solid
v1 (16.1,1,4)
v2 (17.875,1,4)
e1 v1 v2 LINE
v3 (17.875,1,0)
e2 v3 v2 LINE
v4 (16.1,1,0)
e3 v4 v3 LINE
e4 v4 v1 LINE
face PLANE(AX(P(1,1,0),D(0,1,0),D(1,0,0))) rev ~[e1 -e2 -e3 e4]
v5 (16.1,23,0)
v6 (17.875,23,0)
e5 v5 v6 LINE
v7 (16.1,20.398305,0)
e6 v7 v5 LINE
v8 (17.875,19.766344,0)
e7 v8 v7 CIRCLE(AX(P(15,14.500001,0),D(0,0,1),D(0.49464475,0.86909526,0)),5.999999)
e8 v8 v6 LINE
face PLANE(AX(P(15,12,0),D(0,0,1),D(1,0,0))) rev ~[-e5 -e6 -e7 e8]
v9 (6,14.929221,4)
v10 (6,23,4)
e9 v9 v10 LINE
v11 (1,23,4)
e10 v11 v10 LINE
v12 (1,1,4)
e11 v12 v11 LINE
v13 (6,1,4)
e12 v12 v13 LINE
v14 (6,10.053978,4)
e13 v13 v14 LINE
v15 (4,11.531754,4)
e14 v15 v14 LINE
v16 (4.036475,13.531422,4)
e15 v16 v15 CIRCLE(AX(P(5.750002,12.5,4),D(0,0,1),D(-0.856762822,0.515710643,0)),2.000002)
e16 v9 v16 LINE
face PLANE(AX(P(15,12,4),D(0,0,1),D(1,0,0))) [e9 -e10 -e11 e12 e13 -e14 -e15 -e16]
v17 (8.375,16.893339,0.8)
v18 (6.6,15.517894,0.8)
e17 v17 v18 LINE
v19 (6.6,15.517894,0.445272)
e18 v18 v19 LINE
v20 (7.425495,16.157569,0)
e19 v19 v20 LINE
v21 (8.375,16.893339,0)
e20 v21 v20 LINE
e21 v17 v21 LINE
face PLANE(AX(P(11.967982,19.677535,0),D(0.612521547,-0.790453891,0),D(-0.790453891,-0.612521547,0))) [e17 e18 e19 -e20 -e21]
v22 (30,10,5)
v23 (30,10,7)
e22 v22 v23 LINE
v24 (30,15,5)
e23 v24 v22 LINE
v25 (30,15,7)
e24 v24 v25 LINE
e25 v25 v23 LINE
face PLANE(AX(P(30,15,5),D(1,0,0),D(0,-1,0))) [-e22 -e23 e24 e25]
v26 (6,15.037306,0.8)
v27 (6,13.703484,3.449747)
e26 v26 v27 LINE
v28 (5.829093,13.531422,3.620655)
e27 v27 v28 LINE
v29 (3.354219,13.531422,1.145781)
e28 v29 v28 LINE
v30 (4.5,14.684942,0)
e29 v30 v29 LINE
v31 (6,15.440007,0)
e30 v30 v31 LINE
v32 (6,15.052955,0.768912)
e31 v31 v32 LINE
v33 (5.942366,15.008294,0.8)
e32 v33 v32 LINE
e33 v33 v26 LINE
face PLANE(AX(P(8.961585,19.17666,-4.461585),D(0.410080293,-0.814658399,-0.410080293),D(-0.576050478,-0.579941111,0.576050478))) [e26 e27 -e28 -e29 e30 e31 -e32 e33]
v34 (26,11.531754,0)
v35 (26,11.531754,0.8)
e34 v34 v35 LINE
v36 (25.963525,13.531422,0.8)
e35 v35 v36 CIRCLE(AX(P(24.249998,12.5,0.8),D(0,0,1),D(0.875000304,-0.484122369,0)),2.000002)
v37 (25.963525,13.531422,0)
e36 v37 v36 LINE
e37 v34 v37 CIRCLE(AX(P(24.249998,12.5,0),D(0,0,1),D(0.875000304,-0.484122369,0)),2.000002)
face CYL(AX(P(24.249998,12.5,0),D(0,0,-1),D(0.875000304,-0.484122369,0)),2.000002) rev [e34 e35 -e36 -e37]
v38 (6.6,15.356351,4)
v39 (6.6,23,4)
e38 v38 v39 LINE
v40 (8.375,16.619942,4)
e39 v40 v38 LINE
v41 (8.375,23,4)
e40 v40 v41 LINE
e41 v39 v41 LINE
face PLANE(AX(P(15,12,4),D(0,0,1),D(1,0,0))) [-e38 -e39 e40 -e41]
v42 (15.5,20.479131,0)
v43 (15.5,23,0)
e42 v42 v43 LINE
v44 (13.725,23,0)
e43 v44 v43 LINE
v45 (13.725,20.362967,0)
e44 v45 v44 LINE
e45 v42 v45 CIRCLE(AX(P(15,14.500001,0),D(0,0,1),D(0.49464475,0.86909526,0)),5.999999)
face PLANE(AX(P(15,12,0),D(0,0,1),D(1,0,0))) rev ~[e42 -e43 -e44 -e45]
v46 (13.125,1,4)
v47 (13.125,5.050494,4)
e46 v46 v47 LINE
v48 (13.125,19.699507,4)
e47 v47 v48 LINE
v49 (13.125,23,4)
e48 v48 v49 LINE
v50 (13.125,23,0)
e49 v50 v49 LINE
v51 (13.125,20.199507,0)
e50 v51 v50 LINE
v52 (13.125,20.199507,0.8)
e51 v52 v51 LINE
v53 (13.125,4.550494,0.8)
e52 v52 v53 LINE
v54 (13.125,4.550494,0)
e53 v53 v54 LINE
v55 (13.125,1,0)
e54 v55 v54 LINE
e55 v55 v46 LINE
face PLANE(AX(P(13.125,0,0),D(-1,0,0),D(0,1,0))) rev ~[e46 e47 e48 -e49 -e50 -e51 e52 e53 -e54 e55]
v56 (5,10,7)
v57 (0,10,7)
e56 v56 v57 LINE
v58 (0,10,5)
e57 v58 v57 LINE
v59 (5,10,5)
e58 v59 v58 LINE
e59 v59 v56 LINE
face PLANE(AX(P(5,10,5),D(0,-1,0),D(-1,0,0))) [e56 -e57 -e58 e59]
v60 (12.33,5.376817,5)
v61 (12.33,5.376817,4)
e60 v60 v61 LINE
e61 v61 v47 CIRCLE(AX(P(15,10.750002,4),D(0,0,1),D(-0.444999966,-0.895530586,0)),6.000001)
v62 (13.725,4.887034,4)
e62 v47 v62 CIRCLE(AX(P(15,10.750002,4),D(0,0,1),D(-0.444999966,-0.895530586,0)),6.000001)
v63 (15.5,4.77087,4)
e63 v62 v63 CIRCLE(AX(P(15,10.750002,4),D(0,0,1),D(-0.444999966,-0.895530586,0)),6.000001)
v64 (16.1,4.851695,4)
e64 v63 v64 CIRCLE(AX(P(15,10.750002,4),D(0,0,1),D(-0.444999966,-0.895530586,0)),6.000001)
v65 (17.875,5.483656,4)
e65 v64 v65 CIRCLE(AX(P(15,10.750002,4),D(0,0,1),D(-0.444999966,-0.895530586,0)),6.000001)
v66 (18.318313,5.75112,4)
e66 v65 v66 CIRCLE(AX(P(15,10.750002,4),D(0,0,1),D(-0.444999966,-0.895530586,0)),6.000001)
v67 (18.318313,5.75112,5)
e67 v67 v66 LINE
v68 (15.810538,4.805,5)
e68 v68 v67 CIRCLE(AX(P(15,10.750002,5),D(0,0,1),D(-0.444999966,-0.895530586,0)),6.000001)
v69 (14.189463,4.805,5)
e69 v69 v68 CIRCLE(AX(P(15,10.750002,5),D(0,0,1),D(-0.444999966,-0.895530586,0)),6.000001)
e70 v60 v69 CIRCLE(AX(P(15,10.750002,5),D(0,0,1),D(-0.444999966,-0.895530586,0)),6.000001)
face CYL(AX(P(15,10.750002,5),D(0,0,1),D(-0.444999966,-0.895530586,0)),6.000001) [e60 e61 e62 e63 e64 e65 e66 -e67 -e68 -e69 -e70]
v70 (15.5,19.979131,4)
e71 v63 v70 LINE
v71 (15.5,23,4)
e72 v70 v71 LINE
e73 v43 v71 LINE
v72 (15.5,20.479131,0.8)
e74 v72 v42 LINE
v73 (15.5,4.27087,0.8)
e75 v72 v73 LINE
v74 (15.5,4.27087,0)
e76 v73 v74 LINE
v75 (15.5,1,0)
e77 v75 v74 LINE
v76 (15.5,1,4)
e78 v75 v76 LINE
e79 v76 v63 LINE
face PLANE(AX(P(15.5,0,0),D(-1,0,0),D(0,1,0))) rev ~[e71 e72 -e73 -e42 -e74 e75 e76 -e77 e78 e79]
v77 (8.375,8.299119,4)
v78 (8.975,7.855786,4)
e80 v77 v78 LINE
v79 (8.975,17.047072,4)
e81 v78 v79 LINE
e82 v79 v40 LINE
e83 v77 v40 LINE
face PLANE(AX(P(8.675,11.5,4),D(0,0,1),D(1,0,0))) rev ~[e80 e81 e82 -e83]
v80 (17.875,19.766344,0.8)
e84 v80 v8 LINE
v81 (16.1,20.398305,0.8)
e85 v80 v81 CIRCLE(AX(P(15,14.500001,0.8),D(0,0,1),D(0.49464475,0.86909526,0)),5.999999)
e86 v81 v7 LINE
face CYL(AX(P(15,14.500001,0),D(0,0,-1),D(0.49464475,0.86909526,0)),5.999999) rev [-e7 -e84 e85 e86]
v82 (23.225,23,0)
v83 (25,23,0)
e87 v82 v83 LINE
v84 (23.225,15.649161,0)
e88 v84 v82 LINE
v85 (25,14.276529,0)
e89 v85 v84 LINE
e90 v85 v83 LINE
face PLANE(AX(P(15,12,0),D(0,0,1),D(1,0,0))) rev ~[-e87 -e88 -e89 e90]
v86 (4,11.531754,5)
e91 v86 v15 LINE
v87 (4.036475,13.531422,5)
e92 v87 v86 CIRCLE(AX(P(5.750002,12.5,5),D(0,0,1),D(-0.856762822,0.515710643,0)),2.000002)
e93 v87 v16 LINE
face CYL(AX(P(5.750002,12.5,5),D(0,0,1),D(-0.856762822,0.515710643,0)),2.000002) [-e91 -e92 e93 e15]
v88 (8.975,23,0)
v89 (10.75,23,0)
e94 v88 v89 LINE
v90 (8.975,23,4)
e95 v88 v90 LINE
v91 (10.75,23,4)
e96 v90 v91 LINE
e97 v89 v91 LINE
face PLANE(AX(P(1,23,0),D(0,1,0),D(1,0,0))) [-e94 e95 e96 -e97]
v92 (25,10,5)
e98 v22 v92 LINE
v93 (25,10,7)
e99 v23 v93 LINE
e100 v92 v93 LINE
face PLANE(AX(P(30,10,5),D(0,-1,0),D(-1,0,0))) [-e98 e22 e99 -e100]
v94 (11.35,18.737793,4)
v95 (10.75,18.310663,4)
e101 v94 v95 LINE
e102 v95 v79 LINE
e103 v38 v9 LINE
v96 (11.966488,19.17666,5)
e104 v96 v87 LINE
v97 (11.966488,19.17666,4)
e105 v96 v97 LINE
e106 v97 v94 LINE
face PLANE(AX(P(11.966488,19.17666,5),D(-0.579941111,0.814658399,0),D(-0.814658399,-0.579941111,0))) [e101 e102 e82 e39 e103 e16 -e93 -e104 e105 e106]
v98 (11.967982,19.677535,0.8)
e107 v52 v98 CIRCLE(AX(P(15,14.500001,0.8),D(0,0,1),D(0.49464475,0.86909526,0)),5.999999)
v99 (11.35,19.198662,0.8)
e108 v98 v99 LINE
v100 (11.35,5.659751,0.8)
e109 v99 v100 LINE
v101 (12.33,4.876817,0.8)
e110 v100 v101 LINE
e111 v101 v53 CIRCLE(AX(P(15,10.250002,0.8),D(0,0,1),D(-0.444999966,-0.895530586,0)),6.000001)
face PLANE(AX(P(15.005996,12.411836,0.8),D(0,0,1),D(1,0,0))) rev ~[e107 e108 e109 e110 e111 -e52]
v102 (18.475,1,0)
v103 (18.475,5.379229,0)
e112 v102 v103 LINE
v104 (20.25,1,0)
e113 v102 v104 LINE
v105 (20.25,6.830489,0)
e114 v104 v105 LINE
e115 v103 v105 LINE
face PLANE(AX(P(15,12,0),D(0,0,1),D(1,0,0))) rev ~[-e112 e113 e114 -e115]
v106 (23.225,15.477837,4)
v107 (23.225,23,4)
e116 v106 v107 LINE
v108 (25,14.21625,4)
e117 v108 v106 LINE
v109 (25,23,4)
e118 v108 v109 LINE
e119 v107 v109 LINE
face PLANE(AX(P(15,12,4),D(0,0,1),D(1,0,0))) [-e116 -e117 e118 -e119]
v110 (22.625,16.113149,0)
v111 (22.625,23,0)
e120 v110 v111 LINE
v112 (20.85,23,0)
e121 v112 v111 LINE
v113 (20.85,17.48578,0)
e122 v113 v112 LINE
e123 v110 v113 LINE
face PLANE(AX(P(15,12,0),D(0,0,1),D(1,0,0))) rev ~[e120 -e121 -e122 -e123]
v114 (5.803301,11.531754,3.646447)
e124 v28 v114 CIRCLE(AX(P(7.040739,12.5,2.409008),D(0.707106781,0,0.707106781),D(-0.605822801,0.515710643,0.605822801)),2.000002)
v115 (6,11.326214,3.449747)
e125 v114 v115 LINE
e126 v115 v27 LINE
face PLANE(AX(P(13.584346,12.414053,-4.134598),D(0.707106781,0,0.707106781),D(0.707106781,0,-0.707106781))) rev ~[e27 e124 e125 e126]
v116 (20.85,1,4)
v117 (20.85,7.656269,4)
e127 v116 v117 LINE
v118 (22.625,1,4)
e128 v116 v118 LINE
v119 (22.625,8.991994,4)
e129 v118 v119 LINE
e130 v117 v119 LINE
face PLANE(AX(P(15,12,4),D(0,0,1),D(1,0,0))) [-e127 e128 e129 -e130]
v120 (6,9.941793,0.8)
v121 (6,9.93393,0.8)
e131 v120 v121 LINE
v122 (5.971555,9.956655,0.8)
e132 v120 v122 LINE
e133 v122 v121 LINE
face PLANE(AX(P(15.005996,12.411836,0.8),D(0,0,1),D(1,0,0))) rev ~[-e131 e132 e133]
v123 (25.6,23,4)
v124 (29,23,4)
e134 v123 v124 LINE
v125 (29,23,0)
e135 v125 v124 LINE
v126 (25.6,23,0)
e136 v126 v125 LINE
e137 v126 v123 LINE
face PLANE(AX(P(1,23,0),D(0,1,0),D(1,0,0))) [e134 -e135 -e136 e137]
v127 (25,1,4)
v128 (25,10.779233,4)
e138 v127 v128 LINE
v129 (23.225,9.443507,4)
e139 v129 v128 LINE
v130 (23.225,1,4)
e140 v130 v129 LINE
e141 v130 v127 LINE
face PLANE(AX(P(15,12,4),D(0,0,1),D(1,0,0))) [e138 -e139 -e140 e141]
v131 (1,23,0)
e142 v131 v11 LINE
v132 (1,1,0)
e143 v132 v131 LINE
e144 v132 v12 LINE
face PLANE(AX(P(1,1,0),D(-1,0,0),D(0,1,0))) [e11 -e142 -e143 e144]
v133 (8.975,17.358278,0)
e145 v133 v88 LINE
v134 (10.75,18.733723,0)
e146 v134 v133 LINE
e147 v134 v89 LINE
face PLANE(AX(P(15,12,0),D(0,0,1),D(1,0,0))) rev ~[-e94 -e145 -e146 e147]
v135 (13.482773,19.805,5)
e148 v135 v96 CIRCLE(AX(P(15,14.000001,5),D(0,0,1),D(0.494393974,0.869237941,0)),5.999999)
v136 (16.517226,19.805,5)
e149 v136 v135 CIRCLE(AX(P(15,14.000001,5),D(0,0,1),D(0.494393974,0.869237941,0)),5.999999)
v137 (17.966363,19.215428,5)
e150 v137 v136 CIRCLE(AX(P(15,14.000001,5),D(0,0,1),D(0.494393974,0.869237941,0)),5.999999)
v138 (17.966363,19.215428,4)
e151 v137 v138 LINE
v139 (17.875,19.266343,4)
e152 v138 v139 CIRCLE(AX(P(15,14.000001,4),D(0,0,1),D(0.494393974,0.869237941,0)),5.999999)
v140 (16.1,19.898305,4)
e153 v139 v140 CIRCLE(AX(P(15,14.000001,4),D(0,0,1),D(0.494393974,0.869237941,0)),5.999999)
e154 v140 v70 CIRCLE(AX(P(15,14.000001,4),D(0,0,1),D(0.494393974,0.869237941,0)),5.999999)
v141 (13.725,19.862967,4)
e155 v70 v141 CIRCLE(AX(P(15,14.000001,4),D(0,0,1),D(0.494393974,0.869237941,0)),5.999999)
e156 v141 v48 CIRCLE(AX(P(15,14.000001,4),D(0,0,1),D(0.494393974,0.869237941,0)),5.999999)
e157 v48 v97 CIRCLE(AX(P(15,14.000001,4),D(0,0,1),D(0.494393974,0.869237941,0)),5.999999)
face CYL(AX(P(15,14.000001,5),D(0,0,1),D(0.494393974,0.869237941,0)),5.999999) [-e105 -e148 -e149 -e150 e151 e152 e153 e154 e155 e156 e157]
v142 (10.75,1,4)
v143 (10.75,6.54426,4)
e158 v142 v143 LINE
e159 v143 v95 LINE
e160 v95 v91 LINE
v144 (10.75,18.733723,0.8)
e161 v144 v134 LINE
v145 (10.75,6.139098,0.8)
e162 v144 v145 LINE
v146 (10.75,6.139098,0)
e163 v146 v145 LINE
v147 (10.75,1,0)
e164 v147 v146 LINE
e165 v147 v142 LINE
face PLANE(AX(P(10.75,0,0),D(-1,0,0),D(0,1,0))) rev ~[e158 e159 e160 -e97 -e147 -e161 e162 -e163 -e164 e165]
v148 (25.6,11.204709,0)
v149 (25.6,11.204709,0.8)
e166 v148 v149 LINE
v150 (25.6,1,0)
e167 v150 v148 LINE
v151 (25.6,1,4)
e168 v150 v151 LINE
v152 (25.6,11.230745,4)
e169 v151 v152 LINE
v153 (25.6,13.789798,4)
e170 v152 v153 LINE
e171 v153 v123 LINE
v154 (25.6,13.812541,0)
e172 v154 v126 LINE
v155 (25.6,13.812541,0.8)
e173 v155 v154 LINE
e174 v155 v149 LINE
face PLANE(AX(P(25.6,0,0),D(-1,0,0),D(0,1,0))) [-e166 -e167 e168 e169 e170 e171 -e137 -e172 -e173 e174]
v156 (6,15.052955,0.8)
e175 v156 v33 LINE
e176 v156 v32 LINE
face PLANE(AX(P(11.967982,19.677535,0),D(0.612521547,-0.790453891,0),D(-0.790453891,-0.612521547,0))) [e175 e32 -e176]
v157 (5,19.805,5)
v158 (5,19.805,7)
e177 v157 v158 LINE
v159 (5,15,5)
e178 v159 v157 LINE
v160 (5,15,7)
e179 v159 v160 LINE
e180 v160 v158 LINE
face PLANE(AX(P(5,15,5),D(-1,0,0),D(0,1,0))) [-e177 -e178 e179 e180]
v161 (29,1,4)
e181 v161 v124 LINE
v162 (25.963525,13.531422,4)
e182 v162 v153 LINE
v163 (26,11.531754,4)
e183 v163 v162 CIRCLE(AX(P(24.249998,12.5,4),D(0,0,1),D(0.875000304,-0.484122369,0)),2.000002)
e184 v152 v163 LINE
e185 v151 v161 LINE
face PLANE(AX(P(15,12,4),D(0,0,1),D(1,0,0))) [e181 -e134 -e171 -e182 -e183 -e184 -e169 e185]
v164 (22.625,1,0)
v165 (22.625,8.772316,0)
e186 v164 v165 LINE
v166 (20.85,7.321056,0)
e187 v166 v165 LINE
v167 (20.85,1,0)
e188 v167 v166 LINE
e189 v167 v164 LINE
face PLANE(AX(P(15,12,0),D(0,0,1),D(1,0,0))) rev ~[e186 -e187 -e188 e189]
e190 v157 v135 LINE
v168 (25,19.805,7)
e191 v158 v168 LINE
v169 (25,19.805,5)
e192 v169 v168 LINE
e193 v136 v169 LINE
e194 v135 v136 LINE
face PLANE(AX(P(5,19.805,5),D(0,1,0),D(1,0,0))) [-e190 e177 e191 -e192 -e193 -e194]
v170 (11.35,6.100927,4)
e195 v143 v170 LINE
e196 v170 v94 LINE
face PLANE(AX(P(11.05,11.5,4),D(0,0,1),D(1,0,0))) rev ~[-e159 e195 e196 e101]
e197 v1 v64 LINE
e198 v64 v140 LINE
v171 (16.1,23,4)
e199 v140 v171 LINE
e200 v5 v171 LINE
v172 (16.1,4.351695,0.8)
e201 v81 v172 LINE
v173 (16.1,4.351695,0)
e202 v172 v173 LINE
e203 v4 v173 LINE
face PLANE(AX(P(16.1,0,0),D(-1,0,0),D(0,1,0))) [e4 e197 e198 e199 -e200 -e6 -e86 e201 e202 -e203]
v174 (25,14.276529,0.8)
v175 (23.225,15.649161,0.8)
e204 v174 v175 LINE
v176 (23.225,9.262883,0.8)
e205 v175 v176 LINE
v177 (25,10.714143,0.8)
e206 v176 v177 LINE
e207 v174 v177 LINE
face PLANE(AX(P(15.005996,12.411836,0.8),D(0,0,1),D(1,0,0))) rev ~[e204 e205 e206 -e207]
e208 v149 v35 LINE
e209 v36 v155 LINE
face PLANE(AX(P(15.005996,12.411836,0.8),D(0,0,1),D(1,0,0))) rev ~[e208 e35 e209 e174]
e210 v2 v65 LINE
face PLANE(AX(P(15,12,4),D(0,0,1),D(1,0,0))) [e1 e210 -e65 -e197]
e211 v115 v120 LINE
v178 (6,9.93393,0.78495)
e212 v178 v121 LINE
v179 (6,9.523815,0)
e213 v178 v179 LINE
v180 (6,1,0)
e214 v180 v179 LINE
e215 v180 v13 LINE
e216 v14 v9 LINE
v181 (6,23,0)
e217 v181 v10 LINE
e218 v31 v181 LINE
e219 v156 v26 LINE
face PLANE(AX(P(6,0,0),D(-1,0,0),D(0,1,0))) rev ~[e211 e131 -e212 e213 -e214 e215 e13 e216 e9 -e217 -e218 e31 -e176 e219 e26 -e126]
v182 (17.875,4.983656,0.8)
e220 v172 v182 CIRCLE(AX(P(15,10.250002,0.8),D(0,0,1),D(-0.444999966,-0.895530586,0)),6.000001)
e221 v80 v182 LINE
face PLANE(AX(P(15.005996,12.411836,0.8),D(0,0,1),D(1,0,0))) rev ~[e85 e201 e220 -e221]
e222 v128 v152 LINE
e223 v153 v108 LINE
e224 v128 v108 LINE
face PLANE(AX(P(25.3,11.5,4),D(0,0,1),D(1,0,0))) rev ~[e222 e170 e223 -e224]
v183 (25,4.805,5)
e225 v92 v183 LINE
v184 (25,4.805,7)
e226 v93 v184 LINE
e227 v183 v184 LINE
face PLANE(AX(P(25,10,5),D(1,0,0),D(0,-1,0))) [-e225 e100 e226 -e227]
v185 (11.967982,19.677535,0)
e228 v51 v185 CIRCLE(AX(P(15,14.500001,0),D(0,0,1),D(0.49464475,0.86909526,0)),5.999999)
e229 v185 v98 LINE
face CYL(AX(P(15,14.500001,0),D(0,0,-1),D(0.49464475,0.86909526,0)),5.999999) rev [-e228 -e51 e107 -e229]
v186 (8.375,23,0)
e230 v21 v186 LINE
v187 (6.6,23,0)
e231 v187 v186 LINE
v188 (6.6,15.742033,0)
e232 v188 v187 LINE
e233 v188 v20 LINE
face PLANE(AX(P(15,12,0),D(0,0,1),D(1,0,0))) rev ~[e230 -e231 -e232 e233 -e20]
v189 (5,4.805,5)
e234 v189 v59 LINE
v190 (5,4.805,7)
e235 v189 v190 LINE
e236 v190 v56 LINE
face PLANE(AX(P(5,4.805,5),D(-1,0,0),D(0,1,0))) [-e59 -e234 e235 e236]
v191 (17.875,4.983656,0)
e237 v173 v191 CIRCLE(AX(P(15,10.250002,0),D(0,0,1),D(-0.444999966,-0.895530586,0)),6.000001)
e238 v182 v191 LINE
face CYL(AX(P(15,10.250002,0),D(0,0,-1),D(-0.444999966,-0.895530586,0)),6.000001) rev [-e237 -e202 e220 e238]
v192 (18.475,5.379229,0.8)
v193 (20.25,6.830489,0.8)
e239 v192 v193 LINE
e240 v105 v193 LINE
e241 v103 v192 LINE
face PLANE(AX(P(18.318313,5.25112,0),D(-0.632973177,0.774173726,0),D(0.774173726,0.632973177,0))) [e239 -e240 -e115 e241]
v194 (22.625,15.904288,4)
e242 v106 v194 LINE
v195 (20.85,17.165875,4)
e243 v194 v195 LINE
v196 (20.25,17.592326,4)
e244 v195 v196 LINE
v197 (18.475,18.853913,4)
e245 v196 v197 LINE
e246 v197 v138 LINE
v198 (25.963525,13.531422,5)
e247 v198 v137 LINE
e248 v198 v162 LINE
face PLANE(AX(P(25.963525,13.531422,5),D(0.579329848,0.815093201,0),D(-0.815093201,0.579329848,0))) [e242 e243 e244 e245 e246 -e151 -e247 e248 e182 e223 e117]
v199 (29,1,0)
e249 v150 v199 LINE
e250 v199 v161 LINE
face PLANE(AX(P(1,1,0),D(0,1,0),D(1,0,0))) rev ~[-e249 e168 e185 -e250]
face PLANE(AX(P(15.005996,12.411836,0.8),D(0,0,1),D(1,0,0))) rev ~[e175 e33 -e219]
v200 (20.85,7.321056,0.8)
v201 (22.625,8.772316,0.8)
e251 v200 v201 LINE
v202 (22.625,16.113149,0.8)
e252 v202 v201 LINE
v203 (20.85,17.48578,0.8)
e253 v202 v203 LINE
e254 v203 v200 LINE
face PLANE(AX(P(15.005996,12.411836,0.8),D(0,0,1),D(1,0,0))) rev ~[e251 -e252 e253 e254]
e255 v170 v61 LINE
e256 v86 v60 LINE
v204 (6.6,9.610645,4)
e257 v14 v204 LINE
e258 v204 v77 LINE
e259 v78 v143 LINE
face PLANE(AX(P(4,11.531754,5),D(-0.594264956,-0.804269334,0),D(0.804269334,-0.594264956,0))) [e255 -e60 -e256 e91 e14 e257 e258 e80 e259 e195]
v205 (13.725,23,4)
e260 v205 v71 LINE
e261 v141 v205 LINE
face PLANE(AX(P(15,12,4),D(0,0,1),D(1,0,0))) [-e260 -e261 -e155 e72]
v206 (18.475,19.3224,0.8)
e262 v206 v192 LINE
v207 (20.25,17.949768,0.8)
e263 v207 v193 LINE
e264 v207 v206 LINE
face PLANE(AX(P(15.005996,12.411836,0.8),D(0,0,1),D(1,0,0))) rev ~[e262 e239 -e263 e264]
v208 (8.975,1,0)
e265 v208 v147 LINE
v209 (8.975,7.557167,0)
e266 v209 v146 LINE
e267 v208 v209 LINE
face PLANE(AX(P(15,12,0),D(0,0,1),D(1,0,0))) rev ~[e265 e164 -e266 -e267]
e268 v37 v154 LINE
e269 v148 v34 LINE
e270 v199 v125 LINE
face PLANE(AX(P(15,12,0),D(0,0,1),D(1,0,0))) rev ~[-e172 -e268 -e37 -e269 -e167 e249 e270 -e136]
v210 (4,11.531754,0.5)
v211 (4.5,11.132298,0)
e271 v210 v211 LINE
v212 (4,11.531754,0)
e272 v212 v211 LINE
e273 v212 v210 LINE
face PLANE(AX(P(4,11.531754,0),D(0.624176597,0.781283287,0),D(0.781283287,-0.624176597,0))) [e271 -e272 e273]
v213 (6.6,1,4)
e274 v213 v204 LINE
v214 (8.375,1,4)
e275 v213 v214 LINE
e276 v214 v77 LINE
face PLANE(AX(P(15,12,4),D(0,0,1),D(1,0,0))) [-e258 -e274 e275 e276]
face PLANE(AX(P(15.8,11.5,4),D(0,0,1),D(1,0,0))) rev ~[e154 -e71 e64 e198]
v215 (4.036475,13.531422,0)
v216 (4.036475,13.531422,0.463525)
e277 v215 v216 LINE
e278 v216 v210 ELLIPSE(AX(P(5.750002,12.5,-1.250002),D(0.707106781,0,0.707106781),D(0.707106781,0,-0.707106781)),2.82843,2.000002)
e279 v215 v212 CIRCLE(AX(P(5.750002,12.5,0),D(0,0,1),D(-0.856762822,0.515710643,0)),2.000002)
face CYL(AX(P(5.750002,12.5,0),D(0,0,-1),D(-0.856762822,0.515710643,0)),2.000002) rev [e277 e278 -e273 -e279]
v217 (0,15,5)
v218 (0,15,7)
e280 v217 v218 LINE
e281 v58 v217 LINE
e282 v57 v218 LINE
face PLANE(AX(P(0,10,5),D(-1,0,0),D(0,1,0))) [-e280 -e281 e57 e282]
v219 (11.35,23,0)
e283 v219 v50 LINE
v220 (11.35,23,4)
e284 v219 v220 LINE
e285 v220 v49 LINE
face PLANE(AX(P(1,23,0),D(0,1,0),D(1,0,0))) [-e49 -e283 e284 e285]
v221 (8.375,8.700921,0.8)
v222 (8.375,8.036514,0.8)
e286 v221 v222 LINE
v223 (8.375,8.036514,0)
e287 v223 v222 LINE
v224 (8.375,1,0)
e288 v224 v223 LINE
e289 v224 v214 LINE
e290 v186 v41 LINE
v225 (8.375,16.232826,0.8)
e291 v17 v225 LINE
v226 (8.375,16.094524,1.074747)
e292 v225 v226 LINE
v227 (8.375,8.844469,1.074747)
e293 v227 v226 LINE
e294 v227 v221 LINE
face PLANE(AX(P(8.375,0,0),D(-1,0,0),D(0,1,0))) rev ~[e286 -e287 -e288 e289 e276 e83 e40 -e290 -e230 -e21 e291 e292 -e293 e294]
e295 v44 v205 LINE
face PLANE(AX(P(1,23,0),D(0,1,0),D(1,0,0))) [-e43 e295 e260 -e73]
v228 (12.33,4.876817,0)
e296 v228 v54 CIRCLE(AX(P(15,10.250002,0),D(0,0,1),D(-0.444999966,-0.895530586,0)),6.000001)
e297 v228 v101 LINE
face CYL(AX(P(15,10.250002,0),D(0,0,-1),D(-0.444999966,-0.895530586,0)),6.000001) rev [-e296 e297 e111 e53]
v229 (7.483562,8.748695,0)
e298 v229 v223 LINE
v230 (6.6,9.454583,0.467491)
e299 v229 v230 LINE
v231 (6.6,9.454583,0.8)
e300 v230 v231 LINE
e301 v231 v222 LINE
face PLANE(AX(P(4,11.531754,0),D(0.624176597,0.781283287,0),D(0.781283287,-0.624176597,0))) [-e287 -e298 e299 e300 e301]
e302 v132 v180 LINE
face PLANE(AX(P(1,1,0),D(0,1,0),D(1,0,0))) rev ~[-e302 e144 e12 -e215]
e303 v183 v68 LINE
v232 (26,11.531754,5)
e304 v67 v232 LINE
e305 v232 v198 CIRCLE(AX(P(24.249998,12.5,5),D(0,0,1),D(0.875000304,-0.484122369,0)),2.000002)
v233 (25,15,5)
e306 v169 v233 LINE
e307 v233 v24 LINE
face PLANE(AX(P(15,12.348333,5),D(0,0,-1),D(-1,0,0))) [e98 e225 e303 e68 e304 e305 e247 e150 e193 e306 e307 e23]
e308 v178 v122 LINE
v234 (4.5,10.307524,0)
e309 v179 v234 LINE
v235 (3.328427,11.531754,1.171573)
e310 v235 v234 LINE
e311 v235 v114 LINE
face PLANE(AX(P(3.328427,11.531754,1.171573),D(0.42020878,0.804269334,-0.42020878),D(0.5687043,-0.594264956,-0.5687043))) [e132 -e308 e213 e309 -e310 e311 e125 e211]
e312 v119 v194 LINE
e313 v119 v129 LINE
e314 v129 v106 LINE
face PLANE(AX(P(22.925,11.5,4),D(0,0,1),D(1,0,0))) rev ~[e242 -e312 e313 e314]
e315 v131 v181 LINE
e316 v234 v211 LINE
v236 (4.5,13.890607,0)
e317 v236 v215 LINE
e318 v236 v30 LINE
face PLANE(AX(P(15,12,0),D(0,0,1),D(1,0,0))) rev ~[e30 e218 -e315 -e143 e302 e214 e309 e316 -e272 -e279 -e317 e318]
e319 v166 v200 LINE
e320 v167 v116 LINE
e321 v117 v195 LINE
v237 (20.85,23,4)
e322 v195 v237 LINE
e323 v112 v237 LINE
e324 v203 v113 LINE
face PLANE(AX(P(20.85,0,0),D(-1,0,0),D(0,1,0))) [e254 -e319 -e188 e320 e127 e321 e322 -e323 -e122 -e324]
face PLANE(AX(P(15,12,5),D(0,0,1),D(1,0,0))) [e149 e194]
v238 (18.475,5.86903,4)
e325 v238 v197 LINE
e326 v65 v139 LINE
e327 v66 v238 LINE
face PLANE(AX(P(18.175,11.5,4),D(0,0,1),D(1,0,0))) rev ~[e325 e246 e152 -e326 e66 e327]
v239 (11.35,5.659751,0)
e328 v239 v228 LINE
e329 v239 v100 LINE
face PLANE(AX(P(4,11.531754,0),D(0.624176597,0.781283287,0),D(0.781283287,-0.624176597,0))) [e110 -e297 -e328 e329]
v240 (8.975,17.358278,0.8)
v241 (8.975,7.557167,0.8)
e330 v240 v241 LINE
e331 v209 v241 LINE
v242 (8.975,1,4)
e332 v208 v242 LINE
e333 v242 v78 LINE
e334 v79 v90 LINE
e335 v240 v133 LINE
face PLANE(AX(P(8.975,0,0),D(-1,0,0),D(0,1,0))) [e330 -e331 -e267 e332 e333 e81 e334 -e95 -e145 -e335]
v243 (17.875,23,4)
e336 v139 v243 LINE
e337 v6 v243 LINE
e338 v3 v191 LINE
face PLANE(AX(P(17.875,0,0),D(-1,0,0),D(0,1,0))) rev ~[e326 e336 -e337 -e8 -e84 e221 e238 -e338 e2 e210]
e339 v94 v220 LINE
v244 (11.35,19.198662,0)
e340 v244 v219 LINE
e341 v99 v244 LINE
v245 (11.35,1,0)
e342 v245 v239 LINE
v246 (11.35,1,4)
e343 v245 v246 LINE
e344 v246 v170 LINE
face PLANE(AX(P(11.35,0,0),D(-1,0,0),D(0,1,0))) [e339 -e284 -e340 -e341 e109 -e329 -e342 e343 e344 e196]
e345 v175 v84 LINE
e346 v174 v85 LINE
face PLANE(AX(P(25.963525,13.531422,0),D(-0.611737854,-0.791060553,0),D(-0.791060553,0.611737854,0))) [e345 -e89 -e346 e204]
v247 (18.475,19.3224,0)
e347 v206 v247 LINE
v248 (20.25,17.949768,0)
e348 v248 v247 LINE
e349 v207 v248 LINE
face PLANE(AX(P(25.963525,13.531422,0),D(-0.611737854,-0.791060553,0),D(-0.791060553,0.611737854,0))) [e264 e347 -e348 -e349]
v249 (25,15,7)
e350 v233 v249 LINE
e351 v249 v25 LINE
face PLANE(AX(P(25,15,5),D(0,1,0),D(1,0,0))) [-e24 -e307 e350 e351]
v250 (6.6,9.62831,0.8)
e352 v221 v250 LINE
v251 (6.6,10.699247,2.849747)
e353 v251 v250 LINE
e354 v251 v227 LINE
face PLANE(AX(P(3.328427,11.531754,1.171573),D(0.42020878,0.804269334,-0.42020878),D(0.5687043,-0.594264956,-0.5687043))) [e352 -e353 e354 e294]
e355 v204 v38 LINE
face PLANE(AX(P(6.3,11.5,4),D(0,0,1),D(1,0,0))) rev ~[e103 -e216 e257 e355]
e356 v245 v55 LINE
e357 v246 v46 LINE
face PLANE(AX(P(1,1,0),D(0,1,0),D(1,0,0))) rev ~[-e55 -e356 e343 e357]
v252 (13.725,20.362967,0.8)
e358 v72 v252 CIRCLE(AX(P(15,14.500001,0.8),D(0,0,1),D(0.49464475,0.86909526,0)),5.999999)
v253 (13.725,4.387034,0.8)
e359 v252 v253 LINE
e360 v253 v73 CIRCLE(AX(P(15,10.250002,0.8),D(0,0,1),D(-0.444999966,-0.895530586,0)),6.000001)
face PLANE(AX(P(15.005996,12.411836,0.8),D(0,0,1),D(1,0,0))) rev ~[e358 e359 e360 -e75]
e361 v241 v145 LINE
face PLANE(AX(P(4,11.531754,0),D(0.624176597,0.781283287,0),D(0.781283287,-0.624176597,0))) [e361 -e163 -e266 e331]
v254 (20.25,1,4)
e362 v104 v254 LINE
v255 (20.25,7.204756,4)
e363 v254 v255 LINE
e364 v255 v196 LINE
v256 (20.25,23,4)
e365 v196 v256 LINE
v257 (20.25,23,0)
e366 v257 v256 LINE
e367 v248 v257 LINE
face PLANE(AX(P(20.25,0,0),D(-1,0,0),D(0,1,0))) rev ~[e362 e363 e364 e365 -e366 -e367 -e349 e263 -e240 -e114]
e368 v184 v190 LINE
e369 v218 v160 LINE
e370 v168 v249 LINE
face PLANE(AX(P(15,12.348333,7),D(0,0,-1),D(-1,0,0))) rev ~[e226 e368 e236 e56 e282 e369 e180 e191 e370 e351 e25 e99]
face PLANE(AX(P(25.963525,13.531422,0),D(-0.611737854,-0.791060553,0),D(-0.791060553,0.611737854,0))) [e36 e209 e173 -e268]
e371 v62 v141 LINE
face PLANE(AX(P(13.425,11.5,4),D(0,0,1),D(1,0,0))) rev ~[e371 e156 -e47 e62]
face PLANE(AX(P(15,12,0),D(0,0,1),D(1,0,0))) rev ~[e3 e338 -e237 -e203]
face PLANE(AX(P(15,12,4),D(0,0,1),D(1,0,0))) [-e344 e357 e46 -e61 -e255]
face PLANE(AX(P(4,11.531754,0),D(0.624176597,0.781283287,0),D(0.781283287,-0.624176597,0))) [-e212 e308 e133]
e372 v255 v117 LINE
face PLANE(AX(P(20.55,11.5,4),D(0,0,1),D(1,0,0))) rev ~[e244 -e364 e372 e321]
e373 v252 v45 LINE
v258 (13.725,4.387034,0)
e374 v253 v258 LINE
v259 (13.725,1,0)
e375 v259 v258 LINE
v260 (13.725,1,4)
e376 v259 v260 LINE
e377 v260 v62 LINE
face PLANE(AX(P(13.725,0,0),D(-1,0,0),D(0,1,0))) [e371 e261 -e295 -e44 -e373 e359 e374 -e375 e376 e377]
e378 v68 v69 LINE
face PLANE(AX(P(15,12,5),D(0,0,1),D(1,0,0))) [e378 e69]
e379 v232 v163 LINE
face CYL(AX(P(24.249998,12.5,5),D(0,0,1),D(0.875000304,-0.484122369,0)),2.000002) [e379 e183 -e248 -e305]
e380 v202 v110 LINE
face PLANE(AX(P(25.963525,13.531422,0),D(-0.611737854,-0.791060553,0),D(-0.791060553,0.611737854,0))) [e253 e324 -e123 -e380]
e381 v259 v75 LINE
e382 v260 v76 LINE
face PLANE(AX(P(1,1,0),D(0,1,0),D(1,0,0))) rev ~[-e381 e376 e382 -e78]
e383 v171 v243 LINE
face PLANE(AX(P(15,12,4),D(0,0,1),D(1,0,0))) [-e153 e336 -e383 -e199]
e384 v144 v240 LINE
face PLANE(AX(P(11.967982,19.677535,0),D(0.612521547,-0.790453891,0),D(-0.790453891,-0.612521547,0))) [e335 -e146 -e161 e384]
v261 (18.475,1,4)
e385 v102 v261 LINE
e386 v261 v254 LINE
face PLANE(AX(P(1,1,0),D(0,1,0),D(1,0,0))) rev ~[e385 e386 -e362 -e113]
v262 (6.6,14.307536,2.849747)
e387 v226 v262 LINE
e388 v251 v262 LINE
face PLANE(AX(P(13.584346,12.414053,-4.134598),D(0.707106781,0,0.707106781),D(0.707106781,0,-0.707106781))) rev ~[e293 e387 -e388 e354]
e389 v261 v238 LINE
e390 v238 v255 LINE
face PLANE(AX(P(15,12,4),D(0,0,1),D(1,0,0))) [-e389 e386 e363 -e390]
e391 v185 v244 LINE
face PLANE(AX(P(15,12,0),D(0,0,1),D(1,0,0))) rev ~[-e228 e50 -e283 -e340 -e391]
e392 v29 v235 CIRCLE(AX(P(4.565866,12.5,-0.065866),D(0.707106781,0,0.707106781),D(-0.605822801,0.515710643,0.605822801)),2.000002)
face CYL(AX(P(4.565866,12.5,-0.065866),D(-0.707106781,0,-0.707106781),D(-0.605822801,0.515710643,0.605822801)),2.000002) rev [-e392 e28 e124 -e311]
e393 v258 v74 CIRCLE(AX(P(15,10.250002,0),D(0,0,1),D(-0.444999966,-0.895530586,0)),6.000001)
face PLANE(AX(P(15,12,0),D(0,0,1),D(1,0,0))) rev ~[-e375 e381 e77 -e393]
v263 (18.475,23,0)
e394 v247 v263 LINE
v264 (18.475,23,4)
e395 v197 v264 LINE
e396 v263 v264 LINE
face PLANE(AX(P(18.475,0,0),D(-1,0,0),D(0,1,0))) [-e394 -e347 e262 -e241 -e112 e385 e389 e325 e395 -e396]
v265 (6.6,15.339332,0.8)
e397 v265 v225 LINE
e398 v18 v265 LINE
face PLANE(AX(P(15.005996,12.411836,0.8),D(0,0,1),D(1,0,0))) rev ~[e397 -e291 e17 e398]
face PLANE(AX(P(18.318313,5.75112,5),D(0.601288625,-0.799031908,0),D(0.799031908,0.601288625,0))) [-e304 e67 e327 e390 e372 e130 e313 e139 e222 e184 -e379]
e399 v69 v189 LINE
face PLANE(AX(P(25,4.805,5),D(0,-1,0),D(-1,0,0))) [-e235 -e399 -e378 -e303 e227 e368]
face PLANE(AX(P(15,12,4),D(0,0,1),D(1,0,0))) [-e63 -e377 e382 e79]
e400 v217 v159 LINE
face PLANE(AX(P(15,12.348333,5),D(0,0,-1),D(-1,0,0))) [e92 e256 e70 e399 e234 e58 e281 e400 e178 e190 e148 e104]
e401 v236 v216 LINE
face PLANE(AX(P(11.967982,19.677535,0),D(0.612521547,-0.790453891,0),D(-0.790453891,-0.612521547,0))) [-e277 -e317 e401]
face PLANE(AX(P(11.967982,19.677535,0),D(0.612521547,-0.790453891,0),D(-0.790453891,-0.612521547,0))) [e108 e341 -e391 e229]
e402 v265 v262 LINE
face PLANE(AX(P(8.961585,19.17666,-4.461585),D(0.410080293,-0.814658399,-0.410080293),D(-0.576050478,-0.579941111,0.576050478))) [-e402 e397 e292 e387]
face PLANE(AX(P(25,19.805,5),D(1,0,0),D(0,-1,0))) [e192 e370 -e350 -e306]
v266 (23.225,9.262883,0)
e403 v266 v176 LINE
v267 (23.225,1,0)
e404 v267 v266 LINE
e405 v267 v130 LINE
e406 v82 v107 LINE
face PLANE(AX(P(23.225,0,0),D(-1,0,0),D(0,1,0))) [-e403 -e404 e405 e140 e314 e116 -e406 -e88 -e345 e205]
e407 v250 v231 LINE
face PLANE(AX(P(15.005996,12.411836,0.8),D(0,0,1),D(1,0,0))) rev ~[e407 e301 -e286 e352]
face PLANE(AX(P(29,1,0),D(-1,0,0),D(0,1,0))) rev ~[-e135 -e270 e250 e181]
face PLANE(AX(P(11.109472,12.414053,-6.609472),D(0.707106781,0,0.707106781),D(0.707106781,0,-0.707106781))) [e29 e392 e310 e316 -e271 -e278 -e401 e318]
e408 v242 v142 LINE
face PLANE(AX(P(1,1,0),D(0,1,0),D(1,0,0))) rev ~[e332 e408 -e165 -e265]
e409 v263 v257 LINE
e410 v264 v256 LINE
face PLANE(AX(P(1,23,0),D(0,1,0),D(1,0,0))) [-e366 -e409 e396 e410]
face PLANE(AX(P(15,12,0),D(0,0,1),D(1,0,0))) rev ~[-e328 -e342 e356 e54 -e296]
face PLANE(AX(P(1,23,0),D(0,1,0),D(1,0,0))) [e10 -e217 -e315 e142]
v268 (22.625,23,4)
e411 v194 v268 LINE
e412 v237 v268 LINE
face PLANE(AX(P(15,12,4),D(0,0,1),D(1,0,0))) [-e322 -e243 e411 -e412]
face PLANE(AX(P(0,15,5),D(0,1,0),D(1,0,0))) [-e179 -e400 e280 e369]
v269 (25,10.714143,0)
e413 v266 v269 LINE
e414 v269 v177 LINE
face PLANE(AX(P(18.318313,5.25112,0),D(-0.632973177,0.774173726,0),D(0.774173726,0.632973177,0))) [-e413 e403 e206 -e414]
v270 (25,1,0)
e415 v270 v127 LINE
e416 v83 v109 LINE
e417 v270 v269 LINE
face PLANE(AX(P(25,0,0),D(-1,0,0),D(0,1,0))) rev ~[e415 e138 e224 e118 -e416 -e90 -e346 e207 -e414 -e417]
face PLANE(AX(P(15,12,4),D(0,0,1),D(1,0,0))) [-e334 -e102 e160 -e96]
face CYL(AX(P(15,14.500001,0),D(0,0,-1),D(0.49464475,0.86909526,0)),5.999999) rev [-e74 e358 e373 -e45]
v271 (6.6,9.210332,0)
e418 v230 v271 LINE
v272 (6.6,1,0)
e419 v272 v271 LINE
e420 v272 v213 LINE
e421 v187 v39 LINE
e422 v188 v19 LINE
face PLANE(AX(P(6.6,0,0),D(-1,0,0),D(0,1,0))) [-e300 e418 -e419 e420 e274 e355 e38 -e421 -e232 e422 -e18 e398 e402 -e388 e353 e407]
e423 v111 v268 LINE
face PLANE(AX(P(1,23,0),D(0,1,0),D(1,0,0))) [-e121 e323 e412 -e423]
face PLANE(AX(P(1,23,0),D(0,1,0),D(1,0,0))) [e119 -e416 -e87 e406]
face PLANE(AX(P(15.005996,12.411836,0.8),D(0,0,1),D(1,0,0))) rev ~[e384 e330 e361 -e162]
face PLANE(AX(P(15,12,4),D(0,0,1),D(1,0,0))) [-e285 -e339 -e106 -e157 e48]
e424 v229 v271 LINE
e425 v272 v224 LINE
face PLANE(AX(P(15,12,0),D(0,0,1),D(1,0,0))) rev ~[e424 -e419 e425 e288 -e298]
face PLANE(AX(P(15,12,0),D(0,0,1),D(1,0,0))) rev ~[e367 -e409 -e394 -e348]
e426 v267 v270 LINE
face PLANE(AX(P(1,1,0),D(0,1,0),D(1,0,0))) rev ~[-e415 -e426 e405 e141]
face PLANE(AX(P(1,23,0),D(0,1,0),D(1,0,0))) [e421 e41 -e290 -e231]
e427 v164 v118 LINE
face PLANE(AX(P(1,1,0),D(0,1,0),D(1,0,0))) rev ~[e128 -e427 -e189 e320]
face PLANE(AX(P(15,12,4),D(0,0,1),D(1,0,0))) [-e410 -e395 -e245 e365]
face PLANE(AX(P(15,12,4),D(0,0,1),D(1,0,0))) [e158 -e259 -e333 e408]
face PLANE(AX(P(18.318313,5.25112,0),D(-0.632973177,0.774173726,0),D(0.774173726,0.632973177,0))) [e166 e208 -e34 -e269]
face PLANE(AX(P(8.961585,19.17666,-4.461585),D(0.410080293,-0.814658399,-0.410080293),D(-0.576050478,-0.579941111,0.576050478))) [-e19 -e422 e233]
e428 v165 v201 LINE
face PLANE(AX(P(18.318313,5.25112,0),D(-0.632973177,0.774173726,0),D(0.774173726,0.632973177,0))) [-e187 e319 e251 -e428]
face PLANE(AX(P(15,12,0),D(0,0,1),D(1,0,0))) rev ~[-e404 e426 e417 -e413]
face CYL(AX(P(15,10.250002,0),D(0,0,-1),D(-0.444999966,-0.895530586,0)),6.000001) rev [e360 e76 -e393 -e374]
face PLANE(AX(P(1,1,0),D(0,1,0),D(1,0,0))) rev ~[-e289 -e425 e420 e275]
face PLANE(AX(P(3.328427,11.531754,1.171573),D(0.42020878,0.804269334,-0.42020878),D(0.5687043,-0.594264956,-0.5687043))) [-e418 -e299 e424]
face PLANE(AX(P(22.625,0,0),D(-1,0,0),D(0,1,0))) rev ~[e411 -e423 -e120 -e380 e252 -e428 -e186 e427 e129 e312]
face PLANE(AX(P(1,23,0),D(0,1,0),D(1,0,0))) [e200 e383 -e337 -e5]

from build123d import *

# Parameters (mm, degrees)
SKETCH_W             = 28
SKETCH_H             = 22
PAD002_DEPTH         = 5
POCKET001_DEPTH      = 0.8
SKETCH002_W          = 0.6
SKETCH002_H          = 23
POCKET_DEPTH         = 4
LINEARPATTERN_COUNT  = 9
LINEARPATTERN_PITCH  = 2.375
POCKET002_DEPTH      = 3.5
SKETCH006_W          = 28
SKETCH006_H          = 22
POCKET005_DEPTH      = 1
POCKET005_DEPTH_BACK = 1
PAD_DEPTH            = 2


with BuildPart() as part:
    # Sketch → Pad002 (new body)
    with BuildSketch(Plane.XY):
        with Locations((15, 12)):
            Rectangle(SKETCH_W, SKETCH_H)
    extrude(amount=PAD002_DEPTH)

    # Sketch001 → Pocket001 (cut)
    with BuildSketch(Plane.XY):
        with BuildLine():
            ThreePointArc((17.967868, 19.714572), (14.962963, 20.499886), (11.967982, 19.677535))
            Line((11.967982, 19.677535), (4.036475, 13.531422))
            ThreePointArc((4.036475, 13.531422), (3.750333, 12.536475), (4, 11.531754))
            Line((4, 11.531754), (12.33, 4.876817))
            ThreePointArc((12.33, 4.876817), (15.374304, 4.261687), (18.318313, 5.25112))
            Line((18.318313, 5.25112), (26, 11.531754))
            ThreePointArc((26, 11.531754), (26.249667, 12.536475), (25.963525, 13.531422))
            Line((25.963525, 13.531422), (17.967868, 19.714572))
        make_face()
    extrude(amount=POCKET001_DEPTH, mode=Mode.SUBTRACT)

    # Sketch002 → Pocket (cut)
    with BuildSketch(Plane.XY):
        with Locations((6.3, 11.5)):
            Rectangle(SKETCH002_W, SKETCH002_H)
    pocket = extrude(amount=POCKET_DEPTH, mode=Mode.SUBTRACT)

    # LinearPattern: Pocket ×9
    with Locations(*[(i * LINEARPATTERN_PITCH, 0, 0) for i in range(1, LINEARPATTERN_COUNT)]):
        add(pocket, mode=Mode.SUBTRACT)

    # Sketch003 → Pocket002 (cut)
    with BuildSketch(Plane(origin=(0.5, 0, 4), x_dir=(0.707107, 0, -0.707107), z_dir=(0.707107, 0, 0.707107))):
        with BuildLine():
            ThreePointArc((17.966363, 19.215428), (14.961232, 19.999875), (11.966488, 19.17666))
            Line((11.966488, 19.17666), (4.036475, 13.531422))
            ThreePointArc((4.036475, 13.531422), (3.750333, 12.536475), (4, 11.531754))
            Line((4, 11.531754), (12.33, 5.376817))
            ThreePointArc((12.33, 5.376817), (15.374304, 4.761687), (18.318313, 5.75112))
            Line((18.318313, 5.75112), (26, 11.531754))
            ThreePointArc((26, 11.531754), (26.249667, 12.536475), (25.963525, 13.531422))
            Line((25.963525, 13.531422), (17.966363, 19.215428))
        make_face()
    extrude(amount=POCKET002_DEPTH, mode=Mode.SUBTRACT)

    # Sketch006 → Pocket005 (cut, two sides)
    with BuildSketch(Plane.XY.offset(5)) as pocket005_sk:
        with Locations((15, 12)):
            Rectangle(SKETCH006_W, SKETCH006_H)
        with BuildLine():
            ThreePointArc((17.966363, 19.215428), (14.961232, 19.999875), (11.966488, 19.17666))
            Line((11.966488, 19.17666), (4.036475, 13.531422))
            ThreePointArc((4.036475, 13.531422), (3.750333, 12.536475), (4, 11.531754))
            Line((4, 11.531754), (12.33, 5.376817))
            ThreePointArc((12.33, 5.376817), (15.374304, 4.761687), (18.318313, 5.75112))
            Line((18.318313, 5.75112), (26, 11.531754))
            ThreePointArc((26, 11.531754), (26.249667, 12.536475), (25.963525, 13.531422))
            Line((25.963525, 13.531422), (17.966363, 19.215428))
        make_face(mode=Mode.SUBTRACT)
    extrude(amount=-POCKET005_DEPTH, mode=Mode.SUBTRACT)
    extrude(pocket005_sk.sketch, amount=POCKET005_DEPTH_BACK, mode=Mode.SUBTRACT)

    # Sketch004 → Pad (join)
    with BuildSketch(Plane.XY.offset(5)):
        Polygon((5, 19.805), (25, 19.805), (25, 15), (30, 15), (30, 10), (25, 10), (25, 4.805), (5, 4.805), (5, 10), (0, 10), (0, 15), (5, 15), align=None)
    extrude(amount=PAD_DEPTH)


solid = part.part
